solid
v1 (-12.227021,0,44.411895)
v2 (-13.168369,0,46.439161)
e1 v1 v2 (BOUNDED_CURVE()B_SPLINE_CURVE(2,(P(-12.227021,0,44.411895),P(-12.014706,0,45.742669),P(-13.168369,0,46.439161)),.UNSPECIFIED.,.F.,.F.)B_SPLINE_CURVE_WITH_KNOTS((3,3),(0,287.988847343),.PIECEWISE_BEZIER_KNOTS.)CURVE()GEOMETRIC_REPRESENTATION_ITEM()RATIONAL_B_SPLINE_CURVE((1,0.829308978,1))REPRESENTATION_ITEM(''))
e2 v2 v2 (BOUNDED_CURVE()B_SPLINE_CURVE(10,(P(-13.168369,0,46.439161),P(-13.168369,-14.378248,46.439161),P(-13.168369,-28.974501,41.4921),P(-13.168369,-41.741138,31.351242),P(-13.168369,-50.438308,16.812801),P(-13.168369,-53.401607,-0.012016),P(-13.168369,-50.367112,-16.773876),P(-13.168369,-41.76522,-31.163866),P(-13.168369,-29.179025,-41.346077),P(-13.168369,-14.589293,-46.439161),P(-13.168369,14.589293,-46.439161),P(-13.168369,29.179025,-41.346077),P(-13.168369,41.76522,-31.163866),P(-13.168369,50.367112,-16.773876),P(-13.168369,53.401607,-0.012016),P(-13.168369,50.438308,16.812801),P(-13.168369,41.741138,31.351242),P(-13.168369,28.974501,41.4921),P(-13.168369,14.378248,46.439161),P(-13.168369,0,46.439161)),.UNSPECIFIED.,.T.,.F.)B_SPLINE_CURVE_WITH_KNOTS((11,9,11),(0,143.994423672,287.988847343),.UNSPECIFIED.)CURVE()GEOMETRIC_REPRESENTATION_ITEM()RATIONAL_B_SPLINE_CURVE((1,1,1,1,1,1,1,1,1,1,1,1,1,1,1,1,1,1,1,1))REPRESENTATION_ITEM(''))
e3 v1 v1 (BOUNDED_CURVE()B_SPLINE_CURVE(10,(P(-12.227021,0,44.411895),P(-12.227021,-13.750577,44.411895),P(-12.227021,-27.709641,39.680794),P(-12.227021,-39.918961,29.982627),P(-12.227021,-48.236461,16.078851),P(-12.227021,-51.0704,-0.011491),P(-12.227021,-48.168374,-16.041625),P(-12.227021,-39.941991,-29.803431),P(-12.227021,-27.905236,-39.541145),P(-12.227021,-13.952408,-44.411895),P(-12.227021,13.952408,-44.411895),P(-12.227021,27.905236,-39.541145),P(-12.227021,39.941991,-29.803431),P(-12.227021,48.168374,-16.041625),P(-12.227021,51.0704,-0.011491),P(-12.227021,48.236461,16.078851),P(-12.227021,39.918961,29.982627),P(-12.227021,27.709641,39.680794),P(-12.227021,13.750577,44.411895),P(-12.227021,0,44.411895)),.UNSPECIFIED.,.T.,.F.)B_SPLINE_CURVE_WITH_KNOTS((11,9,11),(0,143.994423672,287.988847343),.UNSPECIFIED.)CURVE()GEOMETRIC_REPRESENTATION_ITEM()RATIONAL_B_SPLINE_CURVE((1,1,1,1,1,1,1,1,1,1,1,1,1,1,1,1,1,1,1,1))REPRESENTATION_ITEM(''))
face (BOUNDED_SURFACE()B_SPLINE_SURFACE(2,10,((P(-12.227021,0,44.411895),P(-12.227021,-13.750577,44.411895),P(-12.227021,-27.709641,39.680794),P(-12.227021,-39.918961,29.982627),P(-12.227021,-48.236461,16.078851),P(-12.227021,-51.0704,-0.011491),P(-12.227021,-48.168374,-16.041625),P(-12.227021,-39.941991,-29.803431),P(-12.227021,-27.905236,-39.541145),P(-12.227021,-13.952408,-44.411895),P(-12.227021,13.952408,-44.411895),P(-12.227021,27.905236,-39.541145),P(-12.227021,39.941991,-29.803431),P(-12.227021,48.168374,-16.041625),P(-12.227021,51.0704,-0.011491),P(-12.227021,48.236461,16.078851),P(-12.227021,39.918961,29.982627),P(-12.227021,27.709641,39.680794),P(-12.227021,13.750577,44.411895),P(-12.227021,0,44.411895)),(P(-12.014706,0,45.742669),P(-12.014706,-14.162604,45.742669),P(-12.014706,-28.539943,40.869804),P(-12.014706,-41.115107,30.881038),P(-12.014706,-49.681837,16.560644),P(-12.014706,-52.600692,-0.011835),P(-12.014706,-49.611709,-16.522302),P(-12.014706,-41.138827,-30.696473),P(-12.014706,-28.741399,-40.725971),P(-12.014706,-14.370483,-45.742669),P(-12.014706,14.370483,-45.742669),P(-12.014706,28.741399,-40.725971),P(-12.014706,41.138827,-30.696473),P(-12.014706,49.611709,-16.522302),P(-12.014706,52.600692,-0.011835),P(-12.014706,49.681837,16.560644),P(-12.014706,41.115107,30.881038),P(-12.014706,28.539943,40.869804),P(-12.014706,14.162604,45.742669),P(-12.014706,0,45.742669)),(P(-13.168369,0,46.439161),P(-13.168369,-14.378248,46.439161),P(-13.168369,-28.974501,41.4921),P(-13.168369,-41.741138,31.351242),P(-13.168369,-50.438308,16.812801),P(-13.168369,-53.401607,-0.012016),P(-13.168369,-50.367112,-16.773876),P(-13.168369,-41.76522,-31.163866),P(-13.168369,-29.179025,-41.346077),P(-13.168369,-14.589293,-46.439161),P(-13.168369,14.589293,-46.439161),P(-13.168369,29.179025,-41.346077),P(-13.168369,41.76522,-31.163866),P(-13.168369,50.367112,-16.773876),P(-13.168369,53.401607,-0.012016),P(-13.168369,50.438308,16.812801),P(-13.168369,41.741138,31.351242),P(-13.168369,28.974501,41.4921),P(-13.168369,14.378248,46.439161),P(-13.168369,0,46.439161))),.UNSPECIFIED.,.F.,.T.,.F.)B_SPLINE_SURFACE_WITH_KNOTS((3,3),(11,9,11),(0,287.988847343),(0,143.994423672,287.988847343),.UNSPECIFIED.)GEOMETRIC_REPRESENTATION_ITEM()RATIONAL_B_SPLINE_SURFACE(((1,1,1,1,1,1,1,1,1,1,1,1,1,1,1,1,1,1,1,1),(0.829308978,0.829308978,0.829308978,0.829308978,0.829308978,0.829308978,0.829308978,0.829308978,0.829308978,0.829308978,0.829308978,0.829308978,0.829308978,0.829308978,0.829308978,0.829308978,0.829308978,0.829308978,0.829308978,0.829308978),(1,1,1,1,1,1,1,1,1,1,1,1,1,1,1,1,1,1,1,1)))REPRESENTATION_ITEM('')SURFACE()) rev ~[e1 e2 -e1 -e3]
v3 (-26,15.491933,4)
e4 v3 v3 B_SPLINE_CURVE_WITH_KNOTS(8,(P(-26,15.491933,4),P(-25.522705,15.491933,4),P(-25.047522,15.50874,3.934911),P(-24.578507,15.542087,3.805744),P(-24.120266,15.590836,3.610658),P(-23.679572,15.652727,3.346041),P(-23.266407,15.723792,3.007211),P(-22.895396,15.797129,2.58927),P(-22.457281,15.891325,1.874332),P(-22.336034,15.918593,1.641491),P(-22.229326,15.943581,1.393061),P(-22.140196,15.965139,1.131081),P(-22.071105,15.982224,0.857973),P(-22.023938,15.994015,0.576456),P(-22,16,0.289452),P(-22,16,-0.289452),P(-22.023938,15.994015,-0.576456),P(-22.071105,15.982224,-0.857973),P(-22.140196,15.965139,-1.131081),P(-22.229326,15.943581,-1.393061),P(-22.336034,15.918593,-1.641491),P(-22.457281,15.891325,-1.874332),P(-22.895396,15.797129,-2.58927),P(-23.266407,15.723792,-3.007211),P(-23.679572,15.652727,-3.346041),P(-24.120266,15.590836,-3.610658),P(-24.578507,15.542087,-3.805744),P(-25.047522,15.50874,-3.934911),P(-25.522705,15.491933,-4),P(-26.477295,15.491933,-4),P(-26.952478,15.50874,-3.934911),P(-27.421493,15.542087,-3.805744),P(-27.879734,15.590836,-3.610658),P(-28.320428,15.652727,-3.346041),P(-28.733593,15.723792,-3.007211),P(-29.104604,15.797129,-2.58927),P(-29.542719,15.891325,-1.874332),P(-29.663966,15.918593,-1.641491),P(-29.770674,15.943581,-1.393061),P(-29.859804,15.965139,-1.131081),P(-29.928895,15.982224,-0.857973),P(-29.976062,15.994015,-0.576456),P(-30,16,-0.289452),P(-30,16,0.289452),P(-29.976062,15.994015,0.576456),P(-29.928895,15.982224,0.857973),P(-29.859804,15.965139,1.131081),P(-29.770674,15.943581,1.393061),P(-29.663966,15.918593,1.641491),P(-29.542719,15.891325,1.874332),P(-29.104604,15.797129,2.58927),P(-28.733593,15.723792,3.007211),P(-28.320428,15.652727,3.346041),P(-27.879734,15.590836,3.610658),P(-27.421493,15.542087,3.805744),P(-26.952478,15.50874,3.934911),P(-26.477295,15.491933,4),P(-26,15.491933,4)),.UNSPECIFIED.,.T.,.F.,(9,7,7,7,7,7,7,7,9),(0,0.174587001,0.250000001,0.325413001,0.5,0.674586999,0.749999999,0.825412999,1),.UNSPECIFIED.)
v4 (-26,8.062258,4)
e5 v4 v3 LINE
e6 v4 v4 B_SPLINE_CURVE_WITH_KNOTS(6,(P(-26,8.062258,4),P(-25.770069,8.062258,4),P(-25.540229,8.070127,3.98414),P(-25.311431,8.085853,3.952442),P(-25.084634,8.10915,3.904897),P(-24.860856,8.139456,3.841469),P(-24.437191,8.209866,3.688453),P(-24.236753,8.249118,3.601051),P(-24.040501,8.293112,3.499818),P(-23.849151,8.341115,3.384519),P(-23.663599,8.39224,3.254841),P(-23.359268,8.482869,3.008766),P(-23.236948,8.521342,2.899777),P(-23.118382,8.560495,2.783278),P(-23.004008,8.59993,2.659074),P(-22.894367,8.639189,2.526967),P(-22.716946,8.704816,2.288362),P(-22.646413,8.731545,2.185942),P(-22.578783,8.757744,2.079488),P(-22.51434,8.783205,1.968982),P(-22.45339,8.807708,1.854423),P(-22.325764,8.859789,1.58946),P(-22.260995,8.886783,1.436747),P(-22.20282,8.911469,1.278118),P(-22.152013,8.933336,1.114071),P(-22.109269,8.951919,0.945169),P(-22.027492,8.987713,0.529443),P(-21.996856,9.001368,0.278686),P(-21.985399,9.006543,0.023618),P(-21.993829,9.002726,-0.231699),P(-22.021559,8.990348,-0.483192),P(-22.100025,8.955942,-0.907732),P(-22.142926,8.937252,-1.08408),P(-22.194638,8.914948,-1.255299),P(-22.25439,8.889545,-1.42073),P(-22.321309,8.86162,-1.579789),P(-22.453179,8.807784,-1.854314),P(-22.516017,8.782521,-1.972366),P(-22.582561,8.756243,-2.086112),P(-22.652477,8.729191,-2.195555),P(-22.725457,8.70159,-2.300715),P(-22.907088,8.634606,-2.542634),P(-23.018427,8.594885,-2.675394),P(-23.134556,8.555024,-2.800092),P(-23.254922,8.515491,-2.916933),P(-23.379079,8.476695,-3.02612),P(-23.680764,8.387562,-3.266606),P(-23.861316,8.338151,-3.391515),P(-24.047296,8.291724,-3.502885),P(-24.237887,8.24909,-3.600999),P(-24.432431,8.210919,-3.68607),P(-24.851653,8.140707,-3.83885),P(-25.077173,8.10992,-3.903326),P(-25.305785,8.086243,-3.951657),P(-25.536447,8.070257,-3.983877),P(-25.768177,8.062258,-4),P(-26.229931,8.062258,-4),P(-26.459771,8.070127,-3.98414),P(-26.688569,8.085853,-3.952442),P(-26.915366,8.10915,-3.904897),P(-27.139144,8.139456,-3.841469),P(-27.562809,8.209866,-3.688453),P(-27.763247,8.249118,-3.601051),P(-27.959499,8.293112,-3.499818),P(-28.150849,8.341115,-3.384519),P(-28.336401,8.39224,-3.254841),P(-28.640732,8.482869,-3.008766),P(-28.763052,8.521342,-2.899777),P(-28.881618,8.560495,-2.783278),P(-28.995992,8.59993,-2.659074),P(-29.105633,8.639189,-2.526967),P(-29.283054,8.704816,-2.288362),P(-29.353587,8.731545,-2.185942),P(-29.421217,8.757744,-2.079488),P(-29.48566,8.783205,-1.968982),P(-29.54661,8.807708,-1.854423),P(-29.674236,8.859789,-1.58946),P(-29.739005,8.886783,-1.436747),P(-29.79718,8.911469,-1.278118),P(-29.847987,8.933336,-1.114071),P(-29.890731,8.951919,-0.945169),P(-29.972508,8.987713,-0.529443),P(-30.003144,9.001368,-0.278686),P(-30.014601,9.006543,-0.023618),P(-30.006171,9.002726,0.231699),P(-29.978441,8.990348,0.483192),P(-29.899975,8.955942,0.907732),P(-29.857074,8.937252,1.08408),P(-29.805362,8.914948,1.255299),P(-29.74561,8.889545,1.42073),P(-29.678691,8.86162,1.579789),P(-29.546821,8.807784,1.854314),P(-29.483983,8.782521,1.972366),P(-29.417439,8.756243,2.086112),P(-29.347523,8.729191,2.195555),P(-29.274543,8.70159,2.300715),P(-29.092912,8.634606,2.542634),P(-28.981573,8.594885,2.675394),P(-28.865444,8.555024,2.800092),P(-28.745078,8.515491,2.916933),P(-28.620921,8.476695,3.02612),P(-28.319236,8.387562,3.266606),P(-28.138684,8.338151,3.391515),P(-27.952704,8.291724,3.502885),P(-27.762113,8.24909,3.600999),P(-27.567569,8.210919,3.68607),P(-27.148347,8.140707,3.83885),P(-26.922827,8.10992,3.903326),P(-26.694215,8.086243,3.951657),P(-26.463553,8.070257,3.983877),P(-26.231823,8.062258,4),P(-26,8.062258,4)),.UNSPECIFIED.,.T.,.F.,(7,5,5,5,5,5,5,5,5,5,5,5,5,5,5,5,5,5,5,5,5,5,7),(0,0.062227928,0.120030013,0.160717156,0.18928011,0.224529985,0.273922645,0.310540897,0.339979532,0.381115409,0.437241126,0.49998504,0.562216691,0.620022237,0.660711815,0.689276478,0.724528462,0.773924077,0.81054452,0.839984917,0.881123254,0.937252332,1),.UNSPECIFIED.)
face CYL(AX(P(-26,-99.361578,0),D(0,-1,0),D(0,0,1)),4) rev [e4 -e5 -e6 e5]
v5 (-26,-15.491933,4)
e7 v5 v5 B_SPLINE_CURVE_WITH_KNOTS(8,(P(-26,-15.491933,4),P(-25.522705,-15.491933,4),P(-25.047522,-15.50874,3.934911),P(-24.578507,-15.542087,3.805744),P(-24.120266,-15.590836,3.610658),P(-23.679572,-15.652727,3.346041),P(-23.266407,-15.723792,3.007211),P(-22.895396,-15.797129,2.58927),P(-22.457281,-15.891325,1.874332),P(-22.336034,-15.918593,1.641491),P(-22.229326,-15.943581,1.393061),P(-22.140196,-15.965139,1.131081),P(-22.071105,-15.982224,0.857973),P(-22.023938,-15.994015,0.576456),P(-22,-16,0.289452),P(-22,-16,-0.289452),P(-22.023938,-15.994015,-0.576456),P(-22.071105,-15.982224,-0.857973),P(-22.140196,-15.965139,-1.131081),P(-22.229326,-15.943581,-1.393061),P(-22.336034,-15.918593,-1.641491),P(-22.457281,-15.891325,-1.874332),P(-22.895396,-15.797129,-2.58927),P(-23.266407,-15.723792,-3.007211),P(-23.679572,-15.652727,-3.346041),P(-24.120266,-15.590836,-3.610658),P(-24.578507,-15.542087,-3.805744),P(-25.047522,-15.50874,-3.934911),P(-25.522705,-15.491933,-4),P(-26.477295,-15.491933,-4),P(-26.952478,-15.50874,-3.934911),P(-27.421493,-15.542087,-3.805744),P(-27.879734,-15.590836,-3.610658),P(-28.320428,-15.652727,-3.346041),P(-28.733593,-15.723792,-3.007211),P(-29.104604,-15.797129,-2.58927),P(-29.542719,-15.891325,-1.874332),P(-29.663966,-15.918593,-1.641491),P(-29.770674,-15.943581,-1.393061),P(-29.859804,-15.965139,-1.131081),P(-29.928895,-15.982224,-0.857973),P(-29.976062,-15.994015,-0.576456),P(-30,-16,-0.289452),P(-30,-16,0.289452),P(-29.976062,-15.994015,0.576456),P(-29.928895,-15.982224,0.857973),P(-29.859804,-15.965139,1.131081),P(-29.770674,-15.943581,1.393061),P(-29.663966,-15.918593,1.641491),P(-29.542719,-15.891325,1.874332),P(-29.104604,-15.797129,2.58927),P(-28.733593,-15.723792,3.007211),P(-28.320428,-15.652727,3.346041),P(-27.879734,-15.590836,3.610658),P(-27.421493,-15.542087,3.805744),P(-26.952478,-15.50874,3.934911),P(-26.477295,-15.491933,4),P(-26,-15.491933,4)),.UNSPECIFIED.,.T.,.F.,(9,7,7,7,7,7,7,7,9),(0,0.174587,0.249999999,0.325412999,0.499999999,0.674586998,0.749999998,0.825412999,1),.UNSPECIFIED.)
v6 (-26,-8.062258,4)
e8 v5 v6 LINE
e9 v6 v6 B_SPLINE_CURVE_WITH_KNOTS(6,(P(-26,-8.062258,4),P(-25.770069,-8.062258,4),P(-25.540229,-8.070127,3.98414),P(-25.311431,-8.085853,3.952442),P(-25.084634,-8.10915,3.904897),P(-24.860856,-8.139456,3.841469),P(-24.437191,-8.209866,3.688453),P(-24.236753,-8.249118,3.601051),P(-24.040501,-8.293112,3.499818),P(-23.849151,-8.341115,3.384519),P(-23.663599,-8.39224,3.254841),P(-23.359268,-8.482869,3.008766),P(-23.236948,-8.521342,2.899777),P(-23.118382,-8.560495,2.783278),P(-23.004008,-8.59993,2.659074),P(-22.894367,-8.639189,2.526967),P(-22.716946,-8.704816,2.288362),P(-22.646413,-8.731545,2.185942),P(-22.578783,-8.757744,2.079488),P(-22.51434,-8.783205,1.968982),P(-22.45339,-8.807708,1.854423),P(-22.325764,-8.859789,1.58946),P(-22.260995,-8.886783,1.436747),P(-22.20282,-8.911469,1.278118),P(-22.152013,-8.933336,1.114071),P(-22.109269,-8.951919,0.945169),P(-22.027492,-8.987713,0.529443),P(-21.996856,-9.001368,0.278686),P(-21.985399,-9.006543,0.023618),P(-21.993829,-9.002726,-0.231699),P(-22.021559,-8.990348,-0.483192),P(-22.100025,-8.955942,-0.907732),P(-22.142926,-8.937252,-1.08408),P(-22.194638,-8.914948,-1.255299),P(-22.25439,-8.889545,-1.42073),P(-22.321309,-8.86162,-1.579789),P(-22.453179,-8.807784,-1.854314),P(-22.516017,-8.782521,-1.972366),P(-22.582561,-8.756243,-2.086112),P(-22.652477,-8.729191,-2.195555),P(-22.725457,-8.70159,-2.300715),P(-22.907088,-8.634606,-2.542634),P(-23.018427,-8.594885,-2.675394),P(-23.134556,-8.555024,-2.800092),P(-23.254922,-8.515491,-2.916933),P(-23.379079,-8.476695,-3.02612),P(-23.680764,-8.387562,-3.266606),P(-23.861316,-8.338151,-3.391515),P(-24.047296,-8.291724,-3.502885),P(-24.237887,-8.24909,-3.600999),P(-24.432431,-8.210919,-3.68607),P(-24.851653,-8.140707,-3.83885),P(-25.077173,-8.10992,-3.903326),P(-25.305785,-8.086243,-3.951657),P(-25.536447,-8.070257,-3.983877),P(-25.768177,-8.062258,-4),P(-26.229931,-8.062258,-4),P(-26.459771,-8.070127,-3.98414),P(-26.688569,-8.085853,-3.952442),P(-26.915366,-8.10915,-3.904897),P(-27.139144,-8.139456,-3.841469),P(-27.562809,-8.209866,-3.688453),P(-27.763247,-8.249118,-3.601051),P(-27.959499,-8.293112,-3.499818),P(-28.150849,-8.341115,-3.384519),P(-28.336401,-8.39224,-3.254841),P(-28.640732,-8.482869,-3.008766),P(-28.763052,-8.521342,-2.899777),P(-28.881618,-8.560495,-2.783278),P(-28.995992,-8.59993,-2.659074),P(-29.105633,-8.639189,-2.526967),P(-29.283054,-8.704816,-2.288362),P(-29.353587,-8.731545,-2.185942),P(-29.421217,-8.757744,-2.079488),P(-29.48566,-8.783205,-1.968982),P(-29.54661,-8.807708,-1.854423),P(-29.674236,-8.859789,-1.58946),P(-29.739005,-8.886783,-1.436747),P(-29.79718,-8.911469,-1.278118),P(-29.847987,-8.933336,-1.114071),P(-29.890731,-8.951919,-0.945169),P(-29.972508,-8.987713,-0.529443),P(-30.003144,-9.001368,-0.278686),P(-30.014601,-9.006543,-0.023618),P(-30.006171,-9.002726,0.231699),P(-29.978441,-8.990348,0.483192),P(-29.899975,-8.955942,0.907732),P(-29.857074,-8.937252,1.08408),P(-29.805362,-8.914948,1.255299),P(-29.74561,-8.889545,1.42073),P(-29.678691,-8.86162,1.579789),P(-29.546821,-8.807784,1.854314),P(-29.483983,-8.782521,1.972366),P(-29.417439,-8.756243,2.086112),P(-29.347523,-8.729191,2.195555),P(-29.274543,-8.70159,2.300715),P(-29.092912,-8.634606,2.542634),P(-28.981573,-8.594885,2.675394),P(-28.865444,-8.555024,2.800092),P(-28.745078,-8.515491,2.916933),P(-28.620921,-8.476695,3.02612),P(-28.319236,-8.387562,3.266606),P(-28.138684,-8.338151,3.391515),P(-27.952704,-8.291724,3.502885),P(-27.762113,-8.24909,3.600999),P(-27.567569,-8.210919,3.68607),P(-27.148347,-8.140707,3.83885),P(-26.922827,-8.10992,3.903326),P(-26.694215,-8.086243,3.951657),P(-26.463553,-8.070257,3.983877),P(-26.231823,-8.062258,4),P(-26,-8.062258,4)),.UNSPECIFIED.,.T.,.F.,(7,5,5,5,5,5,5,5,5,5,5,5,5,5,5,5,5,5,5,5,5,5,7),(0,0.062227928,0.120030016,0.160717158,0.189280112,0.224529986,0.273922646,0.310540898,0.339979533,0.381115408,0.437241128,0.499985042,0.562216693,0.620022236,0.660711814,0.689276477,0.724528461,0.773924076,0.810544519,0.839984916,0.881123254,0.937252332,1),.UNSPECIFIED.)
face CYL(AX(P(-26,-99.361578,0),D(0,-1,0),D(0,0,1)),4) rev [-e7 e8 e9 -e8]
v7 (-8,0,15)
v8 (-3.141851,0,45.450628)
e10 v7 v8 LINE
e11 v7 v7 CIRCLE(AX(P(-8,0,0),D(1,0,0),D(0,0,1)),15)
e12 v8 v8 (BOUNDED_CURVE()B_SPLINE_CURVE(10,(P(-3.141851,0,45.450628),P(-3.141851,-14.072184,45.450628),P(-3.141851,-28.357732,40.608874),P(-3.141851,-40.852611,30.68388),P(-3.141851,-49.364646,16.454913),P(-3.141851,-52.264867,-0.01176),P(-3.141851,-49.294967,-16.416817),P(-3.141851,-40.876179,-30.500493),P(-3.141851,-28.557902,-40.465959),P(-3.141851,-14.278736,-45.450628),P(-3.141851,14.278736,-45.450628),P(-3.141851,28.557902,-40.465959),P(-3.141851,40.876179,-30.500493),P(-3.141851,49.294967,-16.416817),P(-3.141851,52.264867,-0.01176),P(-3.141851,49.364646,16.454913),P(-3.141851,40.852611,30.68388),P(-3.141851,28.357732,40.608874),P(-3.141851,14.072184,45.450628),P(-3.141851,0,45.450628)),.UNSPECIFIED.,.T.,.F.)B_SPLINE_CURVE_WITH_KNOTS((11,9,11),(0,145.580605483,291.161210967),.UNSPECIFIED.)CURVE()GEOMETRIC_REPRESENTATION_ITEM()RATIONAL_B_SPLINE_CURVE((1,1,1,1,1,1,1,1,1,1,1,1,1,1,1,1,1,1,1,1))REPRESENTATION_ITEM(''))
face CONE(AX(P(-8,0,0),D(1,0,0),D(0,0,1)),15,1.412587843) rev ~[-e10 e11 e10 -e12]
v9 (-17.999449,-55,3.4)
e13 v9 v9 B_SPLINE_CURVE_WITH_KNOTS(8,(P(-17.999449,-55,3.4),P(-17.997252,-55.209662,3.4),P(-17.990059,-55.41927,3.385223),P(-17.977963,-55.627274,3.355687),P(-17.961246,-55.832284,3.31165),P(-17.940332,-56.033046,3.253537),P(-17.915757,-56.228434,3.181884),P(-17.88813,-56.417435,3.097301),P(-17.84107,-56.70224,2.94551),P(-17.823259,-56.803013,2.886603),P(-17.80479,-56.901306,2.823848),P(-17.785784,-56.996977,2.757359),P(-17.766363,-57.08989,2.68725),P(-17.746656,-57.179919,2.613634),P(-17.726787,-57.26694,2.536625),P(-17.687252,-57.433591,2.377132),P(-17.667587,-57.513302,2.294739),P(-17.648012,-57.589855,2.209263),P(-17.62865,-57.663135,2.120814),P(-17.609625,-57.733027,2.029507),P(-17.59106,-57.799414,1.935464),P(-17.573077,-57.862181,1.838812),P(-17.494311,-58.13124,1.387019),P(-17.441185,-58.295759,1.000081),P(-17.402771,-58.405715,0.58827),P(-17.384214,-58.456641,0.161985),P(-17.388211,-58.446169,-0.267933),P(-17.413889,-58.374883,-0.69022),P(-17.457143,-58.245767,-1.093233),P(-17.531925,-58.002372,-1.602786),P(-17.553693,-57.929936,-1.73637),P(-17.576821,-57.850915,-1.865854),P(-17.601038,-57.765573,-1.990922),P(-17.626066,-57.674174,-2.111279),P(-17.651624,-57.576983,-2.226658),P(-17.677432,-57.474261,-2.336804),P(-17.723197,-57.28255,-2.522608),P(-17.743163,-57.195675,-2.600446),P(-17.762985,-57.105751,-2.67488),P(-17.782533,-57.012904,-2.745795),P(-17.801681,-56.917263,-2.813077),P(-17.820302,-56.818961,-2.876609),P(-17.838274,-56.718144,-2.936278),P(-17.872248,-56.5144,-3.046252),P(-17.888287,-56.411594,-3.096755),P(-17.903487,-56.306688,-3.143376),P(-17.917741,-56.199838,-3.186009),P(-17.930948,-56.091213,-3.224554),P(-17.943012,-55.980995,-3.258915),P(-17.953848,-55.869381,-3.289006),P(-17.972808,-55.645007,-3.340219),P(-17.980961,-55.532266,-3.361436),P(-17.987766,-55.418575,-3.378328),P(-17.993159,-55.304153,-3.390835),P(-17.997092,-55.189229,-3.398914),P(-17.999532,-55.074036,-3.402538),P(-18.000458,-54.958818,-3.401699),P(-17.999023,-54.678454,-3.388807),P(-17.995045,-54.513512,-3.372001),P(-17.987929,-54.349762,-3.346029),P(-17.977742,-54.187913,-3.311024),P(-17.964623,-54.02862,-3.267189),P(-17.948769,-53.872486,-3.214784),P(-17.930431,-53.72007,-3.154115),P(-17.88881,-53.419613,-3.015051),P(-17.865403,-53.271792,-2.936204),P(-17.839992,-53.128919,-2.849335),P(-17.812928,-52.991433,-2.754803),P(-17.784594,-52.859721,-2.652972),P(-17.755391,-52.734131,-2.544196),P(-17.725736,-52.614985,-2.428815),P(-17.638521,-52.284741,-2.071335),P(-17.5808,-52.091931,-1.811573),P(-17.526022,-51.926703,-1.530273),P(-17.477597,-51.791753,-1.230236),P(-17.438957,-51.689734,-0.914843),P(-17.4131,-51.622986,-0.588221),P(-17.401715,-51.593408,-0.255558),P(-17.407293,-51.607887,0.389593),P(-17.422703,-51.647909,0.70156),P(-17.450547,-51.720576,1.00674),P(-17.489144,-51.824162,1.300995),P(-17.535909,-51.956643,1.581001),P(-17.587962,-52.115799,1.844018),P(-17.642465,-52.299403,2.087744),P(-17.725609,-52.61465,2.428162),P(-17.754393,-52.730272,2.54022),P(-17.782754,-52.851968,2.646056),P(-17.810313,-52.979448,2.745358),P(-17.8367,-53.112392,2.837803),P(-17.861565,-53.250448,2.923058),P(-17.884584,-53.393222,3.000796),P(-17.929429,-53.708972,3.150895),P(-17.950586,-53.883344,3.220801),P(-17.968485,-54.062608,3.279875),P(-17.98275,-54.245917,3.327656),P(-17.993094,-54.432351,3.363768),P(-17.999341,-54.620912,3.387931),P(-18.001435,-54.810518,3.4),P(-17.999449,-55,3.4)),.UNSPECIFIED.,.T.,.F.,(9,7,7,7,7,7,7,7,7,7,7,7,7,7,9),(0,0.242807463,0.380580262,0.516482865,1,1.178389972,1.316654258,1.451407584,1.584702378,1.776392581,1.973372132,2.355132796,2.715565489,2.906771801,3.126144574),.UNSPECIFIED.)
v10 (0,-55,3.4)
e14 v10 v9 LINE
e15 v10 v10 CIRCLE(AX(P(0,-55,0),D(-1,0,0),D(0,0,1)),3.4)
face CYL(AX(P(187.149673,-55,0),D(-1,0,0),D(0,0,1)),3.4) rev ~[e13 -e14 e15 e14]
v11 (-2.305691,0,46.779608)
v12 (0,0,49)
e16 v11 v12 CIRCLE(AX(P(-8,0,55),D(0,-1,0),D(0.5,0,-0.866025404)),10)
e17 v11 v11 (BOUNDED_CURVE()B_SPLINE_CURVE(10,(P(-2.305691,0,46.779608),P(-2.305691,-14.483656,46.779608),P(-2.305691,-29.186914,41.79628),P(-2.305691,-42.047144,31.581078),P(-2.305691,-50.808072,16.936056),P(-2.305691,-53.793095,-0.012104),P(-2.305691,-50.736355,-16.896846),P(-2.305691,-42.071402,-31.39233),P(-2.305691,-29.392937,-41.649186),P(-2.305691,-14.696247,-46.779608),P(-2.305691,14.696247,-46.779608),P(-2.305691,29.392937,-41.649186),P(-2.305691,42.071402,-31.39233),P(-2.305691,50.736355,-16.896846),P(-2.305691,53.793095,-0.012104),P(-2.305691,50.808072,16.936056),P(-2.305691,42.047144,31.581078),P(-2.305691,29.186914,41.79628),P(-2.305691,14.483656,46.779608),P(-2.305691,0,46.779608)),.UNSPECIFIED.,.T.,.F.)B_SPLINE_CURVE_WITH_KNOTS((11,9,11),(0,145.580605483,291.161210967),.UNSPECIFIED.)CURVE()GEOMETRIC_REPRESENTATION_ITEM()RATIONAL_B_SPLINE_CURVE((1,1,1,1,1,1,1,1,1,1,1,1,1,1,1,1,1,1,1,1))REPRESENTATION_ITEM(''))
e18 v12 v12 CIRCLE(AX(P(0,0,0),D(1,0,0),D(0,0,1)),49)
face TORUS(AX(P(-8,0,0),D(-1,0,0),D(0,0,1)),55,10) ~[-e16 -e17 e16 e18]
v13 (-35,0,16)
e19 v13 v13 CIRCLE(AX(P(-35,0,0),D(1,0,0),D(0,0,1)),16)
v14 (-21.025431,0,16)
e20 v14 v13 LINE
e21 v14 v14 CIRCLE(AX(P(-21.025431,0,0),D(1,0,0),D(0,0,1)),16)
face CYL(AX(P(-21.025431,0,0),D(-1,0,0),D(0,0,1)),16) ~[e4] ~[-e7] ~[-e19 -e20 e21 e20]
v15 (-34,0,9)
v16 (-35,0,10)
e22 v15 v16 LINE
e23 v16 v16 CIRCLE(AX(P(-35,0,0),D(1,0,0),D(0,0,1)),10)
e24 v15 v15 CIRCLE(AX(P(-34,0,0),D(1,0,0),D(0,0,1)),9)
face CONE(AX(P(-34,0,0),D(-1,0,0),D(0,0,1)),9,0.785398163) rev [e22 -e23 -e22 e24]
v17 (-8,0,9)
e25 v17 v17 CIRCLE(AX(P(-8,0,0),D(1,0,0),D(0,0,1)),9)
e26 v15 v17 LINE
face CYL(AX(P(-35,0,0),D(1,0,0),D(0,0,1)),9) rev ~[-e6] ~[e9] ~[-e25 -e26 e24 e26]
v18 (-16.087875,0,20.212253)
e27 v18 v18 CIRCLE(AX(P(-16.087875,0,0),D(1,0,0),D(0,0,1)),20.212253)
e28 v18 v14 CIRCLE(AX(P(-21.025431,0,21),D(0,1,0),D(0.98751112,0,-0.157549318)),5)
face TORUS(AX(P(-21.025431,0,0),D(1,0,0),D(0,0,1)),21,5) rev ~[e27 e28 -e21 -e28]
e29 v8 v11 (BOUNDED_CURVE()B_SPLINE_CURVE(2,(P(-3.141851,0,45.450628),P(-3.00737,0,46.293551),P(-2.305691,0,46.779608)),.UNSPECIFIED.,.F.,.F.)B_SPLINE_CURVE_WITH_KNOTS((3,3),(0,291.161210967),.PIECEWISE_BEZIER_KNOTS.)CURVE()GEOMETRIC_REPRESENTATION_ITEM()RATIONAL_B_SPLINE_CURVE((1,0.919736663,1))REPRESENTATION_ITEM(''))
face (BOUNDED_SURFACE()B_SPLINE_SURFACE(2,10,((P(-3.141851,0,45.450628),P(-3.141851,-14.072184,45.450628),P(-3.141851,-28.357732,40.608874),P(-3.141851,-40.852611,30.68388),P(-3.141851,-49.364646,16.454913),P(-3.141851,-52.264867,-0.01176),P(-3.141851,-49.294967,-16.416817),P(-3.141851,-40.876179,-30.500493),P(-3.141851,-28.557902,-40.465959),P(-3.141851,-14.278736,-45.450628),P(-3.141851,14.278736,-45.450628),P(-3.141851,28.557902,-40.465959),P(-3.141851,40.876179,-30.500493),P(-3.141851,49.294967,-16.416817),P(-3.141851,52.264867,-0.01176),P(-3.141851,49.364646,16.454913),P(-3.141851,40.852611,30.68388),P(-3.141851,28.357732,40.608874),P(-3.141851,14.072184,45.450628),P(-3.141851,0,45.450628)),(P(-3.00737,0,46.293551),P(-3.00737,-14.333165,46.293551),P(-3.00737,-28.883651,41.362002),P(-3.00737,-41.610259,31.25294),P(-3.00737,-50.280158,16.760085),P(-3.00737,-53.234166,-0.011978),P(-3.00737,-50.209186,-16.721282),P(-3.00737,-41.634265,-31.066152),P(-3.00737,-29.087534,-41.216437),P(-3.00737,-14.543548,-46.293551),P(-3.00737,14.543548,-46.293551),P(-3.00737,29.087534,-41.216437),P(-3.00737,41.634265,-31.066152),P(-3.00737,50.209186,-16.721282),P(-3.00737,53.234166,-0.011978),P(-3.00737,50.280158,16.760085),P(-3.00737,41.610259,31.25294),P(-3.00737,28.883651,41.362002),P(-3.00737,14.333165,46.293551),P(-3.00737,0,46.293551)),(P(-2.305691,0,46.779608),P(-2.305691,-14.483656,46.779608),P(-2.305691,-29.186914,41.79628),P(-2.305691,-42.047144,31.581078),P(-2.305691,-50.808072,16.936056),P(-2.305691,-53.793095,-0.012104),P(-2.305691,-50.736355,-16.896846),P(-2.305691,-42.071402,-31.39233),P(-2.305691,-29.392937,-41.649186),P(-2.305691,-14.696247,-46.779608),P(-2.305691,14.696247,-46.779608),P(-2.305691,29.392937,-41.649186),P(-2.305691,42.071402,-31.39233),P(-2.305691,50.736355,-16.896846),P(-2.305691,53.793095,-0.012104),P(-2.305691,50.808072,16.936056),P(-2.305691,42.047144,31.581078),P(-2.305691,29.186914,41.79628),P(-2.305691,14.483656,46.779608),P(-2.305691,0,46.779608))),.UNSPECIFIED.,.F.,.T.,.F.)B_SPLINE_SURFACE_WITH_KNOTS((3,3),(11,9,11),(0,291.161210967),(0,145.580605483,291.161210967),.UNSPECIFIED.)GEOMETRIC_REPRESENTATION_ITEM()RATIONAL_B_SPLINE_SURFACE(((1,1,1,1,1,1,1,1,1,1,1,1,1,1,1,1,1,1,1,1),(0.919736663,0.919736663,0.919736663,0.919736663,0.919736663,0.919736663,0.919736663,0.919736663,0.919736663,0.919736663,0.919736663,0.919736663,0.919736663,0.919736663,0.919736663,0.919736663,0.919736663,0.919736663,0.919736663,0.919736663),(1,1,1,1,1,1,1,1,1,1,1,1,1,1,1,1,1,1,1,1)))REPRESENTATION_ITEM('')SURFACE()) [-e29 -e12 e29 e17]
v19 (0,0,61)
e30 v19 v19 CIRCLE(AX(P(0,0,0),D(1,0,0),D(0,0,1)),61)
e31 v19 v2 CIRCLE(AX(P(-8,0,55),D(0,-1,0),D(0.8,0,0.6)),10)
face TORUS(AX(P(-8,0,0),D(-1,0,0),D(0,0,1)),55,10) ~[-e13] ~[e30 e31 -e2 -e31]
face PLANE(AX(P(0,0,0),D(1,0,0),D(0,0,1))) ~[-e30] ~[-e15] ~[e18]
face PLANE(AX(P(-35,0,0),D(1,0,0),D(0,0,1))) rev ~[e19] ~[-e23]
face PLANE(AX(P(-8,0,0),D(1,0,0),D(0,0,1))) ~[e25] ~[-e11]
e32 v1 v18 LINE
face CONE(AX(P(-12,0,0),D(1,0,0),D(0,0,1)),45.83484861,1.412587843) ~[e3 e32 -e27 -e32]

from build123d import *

# Parameters (mm, degrees)
CUT_EXTRUDE_1_DEPTH      = 99.361577997
CUT_EXTRUDE_1_DEPTH_BACK = 99.361577997
SKETCH_2_R               = 4
CHAMFER_1_SIZE           = 1
FILLET_1_R               = 2
HOLE_WIZARD_M8_1_D       = 6.8


with BuildPart() as part:
    # 草图1 → 旋转1 (revolve)
    with BuildSketch(Plane.XY, mode=Mode.PRIVATE) as revolve_1_sk:
        with BuildLine():
            Line((0, 49), (0, 61))
            ThreePointArc((0, 61), (-15.841903734, 61.205203126), (-12, 45.83484861))
            Line((-12, 45.83484861), (-16.087875382, 20.21225341))
            ThreePointArc((-16.087875382, 20.21225341), (-17.780337221, 17.196137953), (-21.025430983, 16))
            Line((-21.025430983, 16), (-35, 16))
            Line((-35, 16), (-35, 9))
            Line((-35, 9), (-8, 9))
            Line((-8, 9), (-8, 15))
            Line((-8, 15), (-3, 46.339745962))
            ThreePointArc((-3, 46.339745962), (-1.365300468, 47.517970722), (0, 49))
        make_face()
    revolve(revolve_1_sk.sketch.rotate(Axis((0, 0, 0), (1, 0, 0)), 90), axis=Axis((0, 0, 0), (1, 0, 0)))

    # 草图2 → 切除-拉伸1 (cut, two sides: drawn at the far end of the back side and taken through both)
    with BuildSketch(Plane(origin=(0, 0, 0), x_dir=(1, 0, 0), z_dir=(0, 1, 0)).offset(-CUT_EXTRUDE_1_DEPTH_BACK)):
        with Locations(Location((-26, 0, 0), (0, 0, 270))):
            Circle(SKETCH_2_R)
    extrude(amount=CUT_EXTRUDE_1_DEPTH + CUT_EXTRUDE_1_DEPTH_BACK, mode=Mode.SUBTRACT)

    # 倒角1
    chamfer_1_edges = [part.edges().sort_by_distance(p)[0] for p in [
        (-35, 0, -9),
    ]]
    chamfer(chamfer_1_edges, length=CHAMFER_1_SIZE)

    # 圆角1
    fillet_1_edges = [part.edges().sort_by_distance(p)[0] for p in [
        (-12, 0, -45.83484861),
        (-3, 0, -46.339745962),
    ]]
    fillet(fillet_1_edges, radius=FILLET_1_R)

    # M8 螺纹孔的螺纹孔钻头1 (through all)
    with Locations(Plane(origin=(0, 0, 0), x_dir=(0, 0, -1), z_dir=(1, 0, 0))):
        with Locations((0, -55)):
            Hole(HOLE_WIZARD_M8_1_D / 2)


solid = part.part
